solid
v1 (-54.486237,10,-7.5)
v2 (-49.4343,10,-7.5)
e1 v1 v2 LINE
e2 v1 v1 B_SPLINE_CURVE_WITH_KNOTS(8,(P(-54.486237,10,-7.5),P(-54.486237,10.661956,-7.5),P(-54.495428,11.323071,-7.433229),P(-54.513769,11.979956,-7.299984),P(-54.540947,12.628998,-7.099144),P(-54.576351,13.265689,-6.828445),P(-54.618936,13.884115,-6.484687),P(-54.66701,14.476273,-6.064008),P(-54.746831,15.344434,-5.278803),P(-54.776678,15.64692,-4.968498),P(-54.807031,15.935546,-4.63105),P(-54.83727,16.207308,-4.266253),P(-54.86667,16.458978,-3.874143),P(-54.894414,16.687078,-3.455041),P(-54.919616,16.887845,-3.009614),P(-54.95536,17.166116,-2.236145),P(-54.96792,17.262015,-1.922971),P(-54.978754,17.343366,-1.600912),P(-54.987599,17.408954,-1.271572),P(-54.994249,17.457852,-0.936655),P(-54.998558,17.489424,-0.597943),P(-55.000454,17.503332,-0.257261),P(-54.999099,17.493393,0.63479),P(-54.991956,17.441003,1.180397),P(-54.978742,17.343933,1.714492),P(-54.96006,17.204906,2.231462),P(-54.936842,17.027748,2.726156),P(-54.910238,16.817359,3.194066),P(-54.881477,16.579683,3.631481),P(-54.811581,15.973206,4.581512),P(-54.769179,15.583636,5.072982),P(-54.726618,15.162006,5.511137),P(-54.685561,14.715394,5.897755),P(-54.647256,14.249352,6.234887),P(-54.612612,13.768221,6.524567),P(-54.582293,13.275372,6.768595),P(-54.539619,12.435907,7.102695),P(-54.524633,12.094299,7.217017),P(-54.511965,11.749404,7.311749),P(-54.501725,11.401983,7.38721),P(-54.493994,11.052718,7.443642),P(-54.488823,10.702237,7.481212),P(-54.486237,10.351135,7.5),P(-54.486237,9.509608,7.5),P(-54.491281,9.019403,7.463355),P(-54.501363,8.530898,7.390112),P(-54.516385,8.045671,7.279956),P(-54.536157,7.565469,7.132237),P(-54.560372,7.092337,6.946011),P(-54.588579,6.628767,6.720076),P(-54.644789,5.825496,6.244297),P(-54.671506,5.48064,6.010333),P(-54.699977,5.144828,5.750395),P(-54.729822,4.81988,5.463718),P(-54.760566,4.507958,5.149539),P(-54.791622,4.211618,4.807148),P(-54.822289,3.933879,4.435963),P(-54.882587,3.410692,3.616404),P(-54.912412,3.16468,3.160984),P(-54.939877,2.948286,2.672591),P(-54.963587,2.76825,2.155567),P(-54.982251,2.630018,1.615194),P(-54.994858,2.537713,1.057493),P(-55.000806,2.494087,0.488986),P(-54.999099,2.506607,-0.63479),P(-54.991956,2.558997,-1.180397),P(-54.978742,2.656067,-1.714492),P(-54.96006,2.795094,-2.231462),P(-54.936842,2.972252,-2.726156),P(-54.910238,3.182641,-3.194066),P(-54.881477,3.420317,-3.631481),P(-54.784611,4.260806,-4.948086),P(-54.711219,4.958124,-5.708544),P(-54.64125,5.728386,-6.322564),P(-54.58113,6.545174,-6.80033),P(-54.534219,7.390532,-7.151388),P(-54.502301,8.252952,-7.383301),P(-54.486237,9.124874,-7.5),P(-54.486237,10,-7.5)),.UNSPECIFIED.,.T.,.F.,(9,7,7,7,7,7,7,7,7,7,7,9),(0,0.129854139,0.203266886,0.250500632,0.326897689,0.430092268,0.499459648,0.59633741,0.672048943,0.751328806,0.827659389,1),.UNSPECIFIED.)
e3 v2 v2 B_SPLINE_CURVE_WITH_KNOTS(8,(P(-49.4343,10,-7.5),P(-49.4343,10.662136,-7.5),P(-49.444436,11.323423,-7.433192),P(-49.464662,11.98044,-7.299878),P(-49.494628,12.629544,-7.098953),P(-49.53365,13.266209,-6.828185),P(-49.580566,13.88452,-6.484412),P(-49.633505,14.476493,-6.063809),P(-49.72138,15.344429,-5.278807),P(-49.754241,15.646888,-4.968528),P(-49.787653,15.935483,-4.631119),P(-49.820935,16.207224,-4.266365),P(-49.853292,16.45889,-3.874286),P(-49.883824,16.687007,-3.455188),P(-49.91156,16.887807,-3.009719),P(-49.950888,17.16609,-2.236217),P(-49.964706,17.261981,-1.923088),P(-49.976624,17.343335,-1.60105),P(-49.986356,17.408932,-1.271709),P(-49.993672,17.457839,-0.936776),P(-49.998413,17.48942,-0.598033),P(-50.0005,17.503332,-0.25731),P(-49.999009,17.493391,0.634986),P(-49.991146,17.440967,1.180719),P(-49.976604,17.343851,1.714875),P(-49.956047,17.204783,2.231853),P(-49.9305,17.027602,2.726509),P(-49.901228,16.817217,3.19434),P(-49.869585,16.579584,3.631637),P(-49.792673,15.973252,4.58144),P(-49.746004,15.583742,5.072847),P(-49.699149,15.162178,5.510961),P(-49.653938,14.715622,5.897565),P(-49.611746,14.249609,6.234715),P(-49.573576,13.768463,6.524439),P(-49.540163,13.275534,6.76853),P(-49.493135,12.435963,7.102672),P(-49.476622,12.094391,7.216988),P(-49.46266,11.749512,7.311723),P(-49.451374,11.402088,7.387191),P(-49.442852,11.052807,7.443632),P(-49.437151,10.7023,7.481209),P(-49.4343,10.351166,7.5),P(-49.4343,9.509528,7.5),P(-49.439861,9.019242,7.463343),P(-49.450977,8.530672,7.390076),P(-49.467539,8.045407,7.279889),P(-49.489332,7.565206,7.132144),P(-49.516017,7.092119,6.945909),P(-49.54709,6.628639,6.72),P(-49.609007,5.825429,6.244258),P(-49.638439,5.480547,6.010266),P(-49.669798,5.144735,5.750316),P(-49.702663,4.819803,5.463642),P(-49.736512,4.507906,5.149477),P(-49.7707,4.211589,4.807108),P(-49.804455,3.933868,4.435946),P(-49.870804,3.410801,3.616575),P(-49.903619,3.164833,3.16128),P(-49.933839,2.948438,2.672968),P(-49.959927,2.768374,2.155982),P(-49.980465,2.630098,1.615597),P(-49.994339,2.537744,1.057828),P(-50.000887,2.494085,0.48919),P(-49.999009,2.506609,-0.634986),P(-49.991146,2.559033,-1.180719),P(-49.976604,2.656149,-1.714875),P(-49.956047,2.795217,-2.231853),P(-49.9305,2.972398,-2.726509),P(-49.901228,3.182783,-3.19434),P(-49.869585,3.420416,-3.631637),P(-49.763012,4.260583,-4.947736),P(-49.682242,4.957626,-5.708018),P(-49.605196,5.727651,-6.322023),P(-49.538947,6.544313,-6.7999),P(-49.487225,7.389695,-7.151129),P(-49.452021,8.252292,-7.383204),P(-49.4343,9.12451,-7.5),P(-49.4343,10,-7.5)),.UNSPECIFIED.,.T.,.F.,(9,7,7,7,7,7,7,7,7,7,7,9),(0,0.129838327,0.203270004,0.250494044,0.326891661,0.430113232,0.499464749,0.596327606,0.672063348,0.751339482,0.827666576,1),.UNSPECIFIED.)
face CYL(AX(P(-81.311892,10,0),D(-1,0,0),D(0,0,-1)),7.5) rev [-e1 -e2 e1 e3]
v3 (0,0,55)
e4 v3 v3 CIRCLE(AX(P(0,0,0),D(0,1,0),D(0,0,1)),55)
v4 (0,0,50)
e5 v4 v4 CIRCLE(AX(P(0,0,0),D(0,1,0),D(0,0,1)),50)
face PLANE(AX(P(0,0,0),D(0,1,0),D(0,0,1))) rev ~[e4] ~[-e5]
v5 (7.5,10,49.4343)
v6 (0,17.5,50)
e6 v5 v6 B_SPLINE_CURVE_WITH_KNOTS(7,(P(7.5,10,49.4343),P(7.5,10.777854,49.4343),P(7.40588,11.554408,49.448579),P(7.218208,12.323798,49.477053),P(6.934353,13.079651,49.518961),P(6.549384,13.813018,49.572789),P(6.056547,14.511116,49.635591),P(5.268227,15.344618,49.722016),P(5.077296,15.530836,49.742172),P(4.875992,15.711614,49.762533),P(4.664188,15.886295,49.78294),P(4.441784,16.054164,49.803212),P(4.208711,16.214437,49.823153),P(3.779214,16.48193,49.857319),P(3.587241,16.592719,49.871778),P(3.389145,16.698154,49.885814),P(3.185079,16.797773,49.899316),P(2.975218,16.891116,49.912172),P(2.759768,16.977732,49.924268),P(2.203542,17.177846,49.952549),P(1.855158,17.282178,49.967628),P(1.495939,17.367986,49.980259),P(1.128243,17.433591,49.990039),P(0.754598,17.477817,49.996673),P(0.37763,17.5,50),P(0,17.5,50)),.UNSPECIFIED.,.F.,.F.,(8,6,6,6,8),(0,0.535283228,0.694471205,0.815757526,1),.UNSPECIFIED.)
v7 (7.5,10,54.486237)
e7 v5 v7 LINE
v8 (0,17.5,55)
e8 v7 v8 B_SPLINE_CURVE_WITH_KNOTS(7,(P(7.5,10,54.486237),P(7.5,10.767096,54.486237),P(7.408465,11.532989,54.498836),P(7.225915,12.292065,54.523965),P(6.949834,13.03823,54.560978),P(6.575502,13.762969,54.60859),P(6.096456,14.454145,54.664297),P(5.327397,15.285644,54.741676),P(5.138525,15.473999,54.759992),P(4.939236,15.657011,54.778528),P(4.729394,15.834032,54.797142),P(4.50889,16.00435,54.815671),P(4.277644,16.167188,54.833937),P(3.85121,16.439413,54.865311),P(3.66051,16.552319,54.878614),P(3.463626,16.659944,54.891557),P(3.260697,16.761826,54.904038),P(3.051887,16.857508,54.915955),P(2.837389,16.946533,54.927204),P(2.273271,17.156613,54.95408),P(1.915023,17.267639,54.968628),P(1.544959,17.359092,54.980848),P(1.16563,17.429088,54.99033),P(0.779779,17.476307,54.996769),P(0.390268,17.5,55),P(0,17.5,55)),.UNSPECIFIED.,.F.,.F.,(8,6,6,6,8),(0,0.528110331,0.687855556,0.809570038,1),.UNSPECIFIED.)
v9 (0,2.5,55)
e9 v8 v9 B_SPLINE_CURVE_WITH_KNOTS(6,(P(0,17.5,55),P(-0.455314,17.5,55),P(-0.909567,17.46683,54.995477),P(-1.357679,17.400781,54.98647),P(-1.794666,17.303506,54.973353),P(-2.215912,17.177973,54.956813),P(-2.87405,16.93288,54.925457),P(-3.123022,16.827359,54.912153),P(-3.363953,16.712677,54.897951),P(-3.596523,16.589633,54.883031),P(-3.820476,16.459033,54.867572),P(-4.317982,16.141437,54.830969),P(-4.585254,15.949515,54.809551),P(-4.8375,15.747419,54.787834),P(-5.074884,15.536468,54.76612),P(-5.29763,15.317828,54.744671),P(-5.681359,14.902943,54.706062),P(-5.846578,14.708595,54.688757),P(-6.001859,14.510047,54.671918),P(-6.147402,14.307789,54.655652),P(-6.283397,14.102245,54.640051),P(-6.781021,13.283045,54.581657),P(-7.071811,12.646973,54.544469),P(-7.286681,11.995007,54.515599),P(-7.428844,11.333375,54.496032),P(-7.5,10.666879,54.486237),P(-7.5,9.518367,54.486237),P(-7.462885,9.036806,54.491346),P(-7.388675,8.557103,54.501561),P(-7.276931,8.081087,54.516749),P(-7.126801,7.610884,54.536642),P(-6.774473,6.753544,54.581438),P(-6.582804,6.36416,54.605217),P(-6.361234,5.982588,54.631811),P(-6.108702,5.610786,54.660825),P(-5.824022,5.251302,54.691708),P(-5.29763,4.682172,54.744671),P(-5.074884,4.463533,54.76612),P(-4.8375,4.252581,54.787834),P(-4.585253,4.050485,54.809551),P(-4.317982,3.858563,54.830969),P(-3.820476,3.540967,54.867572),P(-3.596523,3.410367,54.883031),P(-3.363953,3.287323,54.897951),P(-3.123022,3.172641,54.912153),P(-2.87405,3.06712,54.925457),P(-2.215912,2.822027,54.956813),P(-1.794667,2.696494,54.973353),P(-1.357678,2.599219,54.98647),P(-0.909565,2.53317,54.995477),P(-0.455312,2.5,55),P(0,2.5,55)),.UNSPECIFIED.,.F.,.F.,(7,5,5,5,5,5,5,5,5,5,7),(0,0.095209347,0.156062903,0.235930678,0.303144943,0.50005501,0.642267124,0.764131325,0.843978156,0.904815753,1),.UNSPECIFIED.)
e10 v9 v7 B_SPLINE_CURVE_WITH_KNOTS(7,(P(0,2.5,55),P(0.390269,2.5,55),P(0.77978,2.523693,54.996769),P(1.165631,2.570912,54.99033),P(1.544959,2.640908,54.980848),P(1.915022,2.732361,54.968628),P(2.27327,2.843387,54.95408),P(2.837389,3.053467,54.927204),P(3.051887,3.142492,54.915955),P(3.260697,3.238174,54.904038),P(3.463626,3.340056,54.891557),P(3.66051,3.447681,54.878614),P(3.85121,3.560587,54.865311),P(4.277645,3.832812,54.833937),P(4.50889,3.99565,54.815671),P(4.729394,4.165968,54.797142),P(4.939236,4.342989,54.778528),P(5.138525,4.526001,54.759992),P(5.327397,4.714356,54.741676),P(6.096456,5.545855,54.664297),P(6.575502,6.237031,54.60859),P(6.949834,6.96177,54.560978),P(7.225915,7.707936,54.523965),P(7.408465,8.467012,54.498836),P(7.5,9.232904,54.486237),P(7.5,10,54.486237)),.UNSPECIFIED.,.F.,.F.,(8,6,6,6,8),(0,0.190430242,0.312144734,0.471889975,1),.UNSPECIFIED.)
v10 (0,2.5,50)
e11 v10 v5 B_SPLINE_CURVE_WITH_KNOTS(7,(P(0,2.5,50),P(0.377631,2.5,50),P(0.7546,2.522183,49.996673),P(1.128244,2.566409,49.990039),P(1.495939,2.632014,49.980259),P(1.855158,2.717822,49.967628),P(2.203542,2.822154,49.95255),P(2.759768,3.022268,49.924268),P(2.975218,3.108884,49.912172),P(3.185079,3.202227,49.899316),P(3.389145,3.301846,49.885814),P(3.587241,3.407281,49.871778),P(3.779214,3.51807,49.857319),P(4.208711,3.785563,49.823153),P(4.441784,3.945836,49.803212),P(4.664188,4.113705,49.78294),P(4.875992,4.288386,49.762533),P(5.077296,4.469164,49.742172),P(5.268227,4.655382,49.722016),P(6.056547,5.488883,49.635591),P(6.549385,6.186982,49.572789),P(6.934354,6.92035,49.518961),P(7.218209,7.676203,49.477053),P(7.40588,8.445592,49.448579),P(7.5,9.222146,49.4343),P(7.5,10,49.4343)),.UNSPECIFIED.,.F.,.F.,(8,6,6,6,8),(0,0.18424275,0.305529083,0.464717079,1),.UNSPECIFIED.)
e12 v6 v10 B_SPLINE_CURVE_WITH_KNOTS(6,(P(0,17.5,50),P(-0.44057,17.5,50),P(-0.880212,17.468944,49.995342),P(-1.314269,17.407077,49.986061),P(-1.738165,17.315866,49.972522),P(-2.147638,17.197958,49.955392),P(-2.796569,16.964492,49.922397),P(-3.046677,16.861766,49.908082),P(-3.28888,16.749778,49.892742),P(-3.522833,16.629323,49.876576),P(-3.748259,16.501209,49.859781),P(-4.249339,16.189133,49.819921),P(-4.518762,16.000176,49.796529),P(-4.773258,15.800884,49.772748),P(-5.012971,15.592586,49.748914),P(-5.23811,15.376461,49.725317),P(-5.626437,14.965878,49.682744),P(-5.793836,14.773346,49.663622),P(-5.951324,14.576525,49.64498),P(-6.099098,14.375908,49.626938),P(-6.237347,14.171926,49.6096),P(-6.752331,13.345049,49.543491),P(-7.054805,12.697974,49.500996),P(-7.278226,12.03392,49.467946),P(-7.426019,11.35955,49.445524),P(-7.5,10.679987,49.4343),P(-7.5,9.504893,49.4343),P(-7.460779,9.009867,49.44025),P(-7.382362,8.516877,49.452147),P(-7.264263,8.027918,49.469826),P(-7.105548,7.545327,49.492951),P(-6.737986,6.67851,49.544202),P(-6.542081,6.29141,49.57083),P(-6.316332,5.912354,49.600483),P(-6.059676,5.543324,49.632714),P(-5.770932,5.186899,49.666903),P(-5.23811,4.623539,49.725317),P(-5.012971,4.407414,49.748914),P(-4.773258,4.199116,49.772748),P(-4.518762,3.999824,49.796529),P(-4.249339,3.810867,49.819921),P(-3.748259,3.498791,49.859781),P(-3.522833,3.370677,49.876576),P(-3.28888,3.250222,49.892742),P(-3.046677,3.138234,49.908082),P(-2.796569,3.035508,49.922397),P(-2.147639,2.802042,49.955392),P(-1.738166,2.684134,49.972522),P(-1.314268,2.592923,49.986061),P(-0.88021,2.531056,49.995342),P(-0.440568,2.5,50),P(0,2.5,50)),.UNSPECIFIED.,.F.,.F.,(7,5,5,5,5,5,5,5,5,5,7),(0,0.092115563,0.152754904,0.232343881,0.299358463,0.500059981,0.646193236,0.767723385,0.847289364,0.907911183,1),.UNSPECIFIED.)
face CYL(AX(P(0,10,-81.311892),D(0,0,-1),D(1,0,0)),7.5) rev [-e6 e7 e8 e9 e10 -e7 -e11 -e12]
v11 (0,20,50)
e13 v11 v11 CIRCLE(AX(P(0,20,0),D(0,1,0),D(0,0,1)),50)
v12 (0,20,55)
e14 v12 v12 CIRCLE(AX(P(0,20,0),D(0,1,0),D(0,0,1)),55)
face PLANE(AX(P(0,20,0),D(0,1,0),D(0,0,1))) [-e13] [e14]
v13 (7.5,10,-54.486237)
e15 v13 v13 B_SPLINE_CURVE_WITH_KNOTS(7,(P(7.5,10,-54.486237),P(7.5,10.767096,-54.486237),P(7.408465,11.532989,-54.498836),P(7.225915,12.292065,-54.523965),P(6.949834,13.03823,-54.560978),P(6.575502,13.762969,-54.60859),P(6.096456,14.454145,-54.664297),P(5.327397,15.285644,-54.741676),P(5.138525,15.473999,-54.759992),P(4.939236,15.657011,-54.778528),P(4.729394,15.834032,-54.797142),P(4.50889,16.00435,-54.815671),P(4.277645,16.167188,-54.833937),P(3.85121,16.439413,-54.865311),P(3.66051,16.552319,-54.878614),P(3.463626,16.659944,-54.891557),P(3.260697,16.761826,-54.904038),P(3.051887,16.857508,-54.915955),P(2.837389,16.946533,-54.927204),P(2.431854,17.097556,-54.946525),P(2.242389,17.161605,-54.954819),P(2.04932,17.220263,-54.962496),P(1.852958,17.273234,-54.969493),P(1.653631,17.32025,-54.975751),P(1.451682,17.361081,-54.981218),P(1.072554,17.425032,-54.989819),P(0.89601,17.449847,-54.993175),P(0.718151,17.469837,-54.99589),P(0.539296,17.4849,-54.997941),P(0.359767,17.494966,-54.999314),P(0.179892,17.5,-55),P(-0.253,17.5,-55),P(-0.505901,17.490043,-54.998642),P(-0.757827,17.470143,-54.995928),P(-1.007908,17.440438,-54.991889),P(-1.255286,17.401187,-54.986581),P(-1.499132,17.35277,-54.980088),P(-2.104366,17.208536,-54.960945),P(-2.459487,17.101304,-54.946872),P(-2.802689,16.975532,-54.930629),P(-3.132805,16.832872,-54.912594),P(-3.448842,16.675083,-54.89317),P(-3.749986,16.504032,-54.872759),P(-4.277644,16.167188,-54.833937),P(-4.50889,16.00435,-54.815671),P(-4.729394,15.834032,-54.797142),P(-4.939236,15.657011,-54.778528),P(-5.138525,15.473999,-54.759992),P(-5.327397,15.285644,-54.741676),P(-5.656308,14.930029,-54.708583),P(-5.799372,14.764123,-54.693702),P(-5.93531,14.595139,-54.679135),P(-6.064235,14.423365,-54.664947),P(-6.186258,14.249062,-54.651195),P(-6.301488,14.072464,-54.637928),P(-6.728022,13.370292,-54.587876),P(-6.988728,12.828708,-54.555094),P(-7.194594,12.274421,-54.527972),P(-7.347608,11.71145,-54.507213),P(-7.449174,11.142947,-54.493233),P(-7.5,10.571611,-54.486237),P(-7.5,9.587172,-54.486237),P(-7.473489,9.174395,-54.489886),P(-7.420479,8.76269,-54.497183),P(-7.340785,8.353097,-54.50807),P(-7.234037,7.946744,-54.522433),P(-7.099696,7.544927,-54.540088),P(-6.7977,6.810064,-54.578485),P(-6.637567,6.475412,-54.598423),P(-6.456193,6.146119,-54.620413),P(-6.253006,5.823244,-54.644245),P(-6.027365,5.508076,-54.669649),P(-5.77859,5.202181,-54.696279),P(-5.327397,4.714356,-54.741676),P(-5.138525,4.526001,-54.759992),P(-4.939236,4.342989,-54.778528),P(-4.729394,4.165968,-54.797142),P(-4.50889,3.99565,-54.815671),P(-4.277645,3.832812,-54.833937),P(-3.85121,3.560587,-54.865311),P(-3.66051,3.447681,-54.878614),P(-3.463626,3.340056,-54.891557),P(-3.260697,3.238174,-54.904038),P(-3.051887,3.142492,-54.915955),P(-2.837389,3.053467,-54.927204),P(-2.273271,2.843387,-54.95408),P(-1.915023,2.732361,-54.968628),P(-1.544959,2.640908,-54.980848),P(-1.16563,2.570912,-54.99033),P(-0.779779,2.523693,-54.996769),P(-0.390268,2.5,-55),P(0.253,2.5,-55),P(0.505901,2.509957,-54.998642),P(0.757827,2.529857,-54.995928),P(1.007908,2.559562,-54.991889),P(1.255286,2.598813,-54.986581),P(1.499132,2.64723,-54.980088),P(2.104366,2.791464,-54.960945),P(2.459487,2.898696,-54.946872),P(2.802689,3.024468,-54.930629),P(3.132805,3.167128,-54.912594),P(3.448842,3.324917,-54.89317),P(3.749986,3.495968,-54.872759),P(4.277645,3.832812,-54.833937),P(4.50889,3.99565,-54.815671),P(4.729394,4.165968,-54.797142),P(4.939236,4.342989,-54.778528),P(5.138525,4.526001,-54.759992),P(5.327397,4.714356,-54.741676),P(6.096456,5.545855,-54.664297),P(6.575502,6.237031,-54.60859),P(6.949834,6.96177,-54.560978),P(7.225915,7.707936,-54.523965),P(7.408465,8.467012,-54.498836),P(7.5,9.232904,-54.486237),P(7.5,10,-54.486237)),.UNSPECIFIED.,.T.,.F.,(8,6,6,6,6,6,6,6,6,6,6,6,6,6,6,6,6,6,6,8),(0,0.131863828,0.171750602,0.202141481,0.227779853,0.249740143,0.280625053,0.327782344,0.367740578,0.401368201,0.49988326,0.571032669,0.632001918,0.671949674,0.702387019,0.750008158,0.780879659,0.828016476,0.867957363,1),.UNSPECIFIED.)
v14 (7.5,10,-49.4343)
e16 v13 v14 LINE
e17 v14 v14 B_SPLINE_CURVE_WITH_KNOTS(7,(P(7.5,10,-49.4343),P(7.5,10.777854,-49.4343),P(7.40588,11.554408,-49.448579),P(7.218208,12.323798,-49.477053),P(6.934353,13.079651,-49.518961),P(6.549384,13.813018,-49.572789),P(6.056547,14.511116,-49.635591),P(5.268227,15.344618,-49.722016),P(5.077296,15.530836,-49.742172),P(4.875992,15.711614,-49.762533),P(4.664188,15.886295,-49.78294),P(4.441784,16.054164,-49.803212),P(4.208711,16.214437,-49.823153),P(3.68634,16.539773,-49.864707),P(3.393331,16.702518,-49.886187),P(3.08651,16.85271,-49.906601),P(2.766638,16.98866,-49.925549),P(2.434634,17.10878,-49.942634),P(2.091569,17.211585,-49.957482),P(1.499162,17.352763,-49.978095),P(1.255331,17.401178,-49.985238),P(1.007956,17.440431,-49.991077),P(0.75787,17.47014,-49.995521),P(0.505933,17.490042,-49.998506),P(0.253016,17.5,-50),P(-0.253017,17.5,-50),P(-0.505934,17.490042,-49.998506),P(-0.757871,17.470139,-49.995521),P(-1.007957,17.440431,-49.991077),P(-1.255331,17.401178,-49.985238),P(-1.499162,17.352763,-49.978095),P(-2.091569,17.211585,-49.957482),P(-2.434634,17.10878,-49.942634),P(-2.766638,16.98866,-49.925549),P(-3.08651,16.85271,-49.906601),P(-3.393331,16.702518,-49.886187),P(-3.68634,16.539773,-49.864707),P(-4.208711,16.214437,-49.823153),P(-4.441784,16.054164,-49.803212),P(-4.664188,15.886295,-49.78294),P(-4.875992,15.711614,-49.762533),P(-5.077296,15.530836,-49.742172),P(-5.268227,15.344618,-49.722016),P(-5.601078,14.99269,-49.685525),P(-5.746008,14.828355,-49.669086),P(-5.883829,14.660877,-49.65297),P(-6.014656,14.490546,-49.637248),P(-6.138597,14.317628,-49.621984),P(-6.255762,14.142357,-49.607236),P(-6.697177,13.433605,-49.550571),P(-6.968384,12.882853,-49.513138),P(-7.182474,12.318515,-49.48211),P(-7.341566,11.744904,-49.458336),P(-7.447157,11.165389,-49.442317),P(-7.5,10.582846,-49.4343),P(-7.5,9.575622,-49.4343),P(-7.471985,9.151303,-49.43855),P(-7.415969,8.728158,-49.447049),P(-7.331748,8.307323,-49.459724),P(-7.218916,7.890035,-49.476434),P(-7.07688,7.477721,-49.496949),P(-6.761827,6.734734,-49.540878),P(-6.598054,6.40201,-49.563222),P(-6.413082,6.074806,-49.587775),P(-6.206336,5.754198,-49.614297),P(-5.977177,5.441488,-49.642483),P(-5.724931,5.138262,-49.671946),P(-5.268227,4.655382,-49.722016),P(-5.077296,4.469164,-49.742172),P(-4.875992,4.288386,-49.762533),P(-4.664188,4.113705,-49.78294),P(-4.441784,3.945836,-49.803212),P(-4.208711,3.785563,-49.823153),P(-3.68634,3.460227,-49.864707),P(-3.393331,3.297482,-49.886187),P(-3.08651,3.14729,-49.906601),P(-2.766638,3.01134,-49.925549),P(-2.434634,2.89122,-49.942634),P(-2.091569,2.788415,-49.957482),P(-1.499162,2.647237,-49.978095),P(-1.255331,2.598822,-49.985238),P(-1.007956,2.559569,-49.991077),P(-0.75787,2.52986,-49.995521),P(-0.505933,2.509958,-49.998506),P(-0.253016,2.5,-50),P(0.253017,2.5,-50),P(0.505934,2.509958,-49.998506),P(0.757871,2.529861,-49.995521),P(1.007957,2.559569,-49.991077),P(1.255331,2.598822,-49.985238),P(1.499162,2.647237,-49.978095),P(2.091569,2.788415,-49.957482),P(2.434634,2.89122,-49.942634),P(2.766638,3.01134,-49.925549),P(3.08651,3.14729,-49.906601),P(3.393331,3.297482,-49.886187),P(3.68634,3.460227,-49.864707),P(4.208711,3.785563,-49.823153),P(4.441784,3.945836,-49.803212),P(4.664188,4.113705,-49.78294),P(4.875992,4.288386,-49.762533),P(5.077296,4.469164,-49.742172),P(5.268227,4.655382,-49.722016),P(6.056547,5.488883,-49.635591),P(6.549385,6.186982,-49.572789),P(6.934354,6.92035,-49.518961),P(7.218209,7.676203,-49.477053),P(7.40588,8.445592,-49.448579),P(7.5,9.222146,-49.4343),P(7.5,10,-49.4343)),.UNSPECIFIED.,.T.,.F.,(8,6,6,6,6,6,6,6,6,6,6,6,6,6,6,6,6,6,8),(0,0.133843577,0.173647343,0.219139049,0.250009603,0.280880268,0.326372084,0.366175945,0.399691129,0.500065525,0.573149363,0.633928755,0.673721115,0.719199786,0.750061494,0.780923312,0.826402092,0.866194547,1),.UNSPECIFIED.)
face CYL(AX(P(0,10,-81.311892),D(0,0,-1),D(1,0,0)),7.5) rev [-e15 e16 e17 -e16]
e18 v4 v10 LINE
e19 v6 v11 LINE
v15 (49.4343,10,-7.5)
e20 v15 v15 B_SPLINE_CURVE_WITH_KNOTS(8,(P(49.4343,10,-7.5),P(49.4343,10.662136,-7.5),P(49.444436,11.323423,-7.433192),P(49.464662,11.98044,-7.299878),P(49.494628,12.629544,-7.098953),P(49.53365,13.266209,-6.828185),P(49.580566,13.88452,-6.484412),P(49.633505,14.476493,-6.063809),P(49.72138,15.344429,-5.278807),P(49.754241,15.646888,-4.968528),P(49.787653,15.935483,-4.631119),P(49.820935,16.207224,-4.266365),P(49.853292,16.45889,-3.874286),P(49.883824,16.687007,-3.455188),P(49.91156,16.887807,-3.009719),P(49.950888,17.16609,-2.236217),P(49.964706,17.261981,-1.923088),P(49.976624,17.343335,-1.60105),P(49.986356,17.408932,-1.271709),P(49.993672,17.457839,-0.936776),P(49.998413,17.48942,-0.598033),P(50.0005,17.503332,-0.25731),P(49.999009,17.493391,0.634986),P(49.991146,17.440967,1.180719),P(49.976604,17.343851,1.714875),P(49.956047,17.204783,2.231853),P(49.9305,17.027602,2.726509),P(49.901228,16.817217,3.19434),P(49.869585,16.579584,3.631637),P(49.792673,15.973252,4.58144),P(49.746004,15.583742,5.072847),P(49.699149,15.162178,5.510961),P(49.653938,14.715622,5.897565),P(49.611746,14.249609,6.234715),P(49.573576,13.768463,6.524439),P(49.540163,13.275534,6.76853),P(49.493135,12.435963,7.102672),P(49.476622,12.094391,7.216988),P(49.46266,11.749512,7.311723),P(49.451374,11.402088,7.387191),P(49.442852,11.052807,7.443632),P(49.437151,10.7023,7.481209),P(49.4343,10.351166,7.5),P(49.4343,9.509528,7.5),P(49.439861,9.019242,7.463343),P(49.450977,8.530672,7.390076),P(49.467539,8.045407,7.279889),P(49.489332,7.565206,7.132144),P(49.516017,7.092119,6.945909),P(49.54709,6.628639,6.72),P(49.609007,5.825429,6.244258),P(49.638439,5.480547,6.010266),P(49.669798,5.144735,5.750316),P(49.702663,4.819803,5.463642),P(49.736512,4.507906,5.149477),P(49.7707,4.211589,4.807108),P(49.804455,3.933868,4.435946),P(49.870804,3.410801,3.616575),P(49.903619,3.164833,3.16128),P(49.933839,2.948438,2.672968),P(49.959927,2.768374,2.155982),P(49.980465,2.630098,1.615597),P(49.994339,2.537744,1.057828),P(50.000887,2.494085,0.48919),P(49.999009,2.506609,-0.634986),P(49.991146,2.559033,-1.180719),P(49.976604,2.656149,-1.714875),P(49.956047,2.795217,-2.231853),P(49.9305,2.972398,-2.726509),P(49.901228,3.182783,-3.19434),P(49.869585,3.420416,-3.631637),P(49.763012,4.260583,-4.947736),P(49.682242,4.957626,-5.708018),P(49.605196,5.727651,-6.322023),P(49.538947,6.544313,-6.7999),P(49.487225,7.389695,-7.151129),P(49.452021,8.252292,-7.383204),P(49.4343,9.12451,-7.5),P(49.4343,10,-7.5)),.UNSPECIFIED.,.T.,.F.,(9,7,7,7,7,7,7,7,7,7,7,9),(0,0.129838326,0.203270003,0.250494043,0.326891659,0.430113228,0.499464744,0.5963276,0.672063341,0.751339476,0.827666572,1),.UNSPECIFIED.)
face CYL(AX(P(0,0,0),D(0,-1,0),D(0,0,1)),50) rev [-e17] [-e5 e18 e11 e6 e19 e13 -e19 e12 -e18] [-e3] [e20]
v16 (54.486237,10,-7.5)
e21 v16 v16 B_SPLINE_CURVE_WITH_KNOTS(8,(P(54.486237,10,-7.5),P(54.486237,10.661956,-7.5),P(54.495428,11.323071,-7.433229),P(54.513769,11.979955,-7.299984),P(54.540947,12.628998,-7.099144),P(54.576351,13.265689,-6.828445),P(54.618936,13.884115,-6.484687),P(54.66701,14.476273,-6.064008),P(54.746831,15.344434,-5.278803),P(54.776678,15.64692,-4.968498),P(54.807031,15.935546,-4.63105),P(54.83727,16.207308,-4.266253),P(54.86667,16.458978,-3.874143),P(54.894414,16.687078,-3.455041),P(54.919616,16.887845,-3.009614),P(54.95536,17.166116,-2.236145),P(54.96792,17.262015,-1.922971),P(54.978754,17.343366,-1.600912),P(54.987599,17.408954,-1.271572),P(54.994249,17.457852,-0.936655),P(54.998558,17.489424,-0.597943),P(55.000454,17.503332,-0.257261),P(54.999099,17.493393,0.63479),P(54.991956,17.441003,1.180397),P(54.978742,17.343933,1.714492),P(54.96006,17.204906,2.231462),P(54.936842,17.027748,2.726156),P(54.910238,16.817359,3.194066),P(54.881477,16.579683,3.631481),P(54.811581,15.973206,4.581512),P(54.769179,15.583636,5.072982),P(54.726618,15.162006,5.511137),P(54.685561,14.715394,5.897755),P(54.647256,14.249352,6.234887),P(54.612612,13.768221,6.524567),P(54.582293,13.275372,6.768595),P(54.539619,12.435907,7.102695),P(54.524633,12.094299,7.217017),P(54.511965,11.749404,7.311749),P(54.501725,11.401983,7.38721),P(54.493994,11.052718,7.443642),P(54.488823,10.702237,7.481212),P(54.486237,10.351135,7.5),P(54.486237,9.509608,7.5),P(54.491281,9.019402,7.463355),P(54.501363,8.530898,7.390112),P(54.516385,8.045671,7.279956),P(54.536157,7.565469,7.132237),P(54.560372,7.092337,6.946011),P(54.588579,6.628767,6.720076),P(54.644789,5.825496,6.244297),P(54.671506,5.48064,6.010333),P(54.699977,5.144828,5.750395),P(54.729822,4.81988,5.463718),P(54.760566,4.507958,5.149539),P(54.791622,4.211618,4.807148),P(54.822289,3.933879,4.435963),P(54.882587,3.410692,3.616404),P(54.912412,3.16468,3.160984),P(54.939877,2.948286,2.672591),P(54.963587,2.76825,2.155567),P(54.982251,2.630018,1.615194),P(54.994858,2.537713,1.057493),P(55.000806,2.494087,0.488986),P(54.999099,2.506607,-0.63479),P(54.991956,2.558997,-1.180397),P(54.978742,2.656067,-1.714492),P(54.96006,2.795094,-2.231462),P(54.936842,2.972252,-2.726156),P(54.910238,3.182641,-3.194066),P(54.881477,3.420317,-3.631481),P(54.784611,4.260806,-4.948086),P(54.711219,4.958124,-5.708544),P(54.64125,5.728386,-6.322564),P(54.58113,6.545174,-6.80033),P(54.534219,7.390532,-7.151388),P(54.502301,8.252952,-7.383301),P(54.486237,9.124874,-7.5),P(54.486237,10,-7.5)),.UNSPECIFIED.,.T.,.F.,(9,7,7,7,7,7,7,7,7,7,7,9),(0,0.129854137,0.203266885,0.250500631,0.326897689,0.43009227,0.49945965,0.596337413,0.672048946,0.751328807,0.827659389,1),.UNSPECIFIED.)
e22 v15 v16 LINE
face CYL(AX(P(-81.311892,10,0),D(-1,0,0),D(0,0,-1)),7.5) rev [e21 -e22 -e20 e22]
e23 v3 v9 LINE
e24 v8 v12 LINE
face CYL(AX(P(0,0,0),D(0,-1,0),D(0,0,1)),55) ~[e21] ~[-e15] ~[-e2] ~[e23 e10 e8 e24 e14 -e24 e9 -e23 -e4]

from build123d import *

# Parameters (mm, degrees)
SKETCH1_R               = 55
SKETCH1_R_2             = 50
BOSS_EXTRUDE1_DEPTH     = 20
CUT_EXTRUDE1_DEPTH      = 81.311892021
CUT_EXTRUDE1_DEPTH_BACK = 81.311892021
SKETCH2_R               = 7.5
CUT_EXTRUDE2_DEPTH      = 81.311892183
CUT_EXTRUDE2_DEPTH_BACK = 81.311892183
SKETCH3_R               = 7.5


with BuildPart() as part:
    # Sketch1 → Boss-Extrude1 (new body)
    with BuildSketch(Plane(origin=(0, 0, 0), x_dir=(1, 0, 0), z_dir=(0, 1, 0))):
        with Locations(Location((0, 0, 0), (0, 0, 270))):
            Circle(SKETCH1_R)
        with Locations(Location((0, 0, 0), (0, 0, 270))):
            Circle(SKETCH1_R_2, mode=Mode.SUBTRACT)
    extrude(amount=BOSS_EXTRUDE1_DEPTH)

    # Sketch2 → Cut-Extrude1 (cut, two sides: drawn at the far end of the back side and taken through both)
    with BuildSketch(Plane.XY.offset(-CUT_EXTRUDE1_DEPTH_BACK)):
        with Locations((0, 10)):
            Circle(SKETCH2_R)
    extrude(amount=CUT_EXTRUDE1_DEPTH + CUT_EXTRUDE1_DEPTH_BACK, mode=Mode.SUBTRACT)

    # Sketch3 → Cut-Extrude2 (cut, two sides: drawn at the far end of the back side and taken through both)
    with BuildSketch(Plane(origin=(0, 0, 0), x_dir=(0, 0, -1), z_dir=(1, 0, 0)).offset(-CUT_EXTRUDE2_DEPTH_BACK)):
        with Locations((0, 10)):
            Circle(SKETCH3_R)
    extrude(amount=CUT_EXTRUDE2_DEPTH + CUT_EXTRUDE2_DEPTH_BACK, mode=Mode.SUBTRACT)


solid = part.part
